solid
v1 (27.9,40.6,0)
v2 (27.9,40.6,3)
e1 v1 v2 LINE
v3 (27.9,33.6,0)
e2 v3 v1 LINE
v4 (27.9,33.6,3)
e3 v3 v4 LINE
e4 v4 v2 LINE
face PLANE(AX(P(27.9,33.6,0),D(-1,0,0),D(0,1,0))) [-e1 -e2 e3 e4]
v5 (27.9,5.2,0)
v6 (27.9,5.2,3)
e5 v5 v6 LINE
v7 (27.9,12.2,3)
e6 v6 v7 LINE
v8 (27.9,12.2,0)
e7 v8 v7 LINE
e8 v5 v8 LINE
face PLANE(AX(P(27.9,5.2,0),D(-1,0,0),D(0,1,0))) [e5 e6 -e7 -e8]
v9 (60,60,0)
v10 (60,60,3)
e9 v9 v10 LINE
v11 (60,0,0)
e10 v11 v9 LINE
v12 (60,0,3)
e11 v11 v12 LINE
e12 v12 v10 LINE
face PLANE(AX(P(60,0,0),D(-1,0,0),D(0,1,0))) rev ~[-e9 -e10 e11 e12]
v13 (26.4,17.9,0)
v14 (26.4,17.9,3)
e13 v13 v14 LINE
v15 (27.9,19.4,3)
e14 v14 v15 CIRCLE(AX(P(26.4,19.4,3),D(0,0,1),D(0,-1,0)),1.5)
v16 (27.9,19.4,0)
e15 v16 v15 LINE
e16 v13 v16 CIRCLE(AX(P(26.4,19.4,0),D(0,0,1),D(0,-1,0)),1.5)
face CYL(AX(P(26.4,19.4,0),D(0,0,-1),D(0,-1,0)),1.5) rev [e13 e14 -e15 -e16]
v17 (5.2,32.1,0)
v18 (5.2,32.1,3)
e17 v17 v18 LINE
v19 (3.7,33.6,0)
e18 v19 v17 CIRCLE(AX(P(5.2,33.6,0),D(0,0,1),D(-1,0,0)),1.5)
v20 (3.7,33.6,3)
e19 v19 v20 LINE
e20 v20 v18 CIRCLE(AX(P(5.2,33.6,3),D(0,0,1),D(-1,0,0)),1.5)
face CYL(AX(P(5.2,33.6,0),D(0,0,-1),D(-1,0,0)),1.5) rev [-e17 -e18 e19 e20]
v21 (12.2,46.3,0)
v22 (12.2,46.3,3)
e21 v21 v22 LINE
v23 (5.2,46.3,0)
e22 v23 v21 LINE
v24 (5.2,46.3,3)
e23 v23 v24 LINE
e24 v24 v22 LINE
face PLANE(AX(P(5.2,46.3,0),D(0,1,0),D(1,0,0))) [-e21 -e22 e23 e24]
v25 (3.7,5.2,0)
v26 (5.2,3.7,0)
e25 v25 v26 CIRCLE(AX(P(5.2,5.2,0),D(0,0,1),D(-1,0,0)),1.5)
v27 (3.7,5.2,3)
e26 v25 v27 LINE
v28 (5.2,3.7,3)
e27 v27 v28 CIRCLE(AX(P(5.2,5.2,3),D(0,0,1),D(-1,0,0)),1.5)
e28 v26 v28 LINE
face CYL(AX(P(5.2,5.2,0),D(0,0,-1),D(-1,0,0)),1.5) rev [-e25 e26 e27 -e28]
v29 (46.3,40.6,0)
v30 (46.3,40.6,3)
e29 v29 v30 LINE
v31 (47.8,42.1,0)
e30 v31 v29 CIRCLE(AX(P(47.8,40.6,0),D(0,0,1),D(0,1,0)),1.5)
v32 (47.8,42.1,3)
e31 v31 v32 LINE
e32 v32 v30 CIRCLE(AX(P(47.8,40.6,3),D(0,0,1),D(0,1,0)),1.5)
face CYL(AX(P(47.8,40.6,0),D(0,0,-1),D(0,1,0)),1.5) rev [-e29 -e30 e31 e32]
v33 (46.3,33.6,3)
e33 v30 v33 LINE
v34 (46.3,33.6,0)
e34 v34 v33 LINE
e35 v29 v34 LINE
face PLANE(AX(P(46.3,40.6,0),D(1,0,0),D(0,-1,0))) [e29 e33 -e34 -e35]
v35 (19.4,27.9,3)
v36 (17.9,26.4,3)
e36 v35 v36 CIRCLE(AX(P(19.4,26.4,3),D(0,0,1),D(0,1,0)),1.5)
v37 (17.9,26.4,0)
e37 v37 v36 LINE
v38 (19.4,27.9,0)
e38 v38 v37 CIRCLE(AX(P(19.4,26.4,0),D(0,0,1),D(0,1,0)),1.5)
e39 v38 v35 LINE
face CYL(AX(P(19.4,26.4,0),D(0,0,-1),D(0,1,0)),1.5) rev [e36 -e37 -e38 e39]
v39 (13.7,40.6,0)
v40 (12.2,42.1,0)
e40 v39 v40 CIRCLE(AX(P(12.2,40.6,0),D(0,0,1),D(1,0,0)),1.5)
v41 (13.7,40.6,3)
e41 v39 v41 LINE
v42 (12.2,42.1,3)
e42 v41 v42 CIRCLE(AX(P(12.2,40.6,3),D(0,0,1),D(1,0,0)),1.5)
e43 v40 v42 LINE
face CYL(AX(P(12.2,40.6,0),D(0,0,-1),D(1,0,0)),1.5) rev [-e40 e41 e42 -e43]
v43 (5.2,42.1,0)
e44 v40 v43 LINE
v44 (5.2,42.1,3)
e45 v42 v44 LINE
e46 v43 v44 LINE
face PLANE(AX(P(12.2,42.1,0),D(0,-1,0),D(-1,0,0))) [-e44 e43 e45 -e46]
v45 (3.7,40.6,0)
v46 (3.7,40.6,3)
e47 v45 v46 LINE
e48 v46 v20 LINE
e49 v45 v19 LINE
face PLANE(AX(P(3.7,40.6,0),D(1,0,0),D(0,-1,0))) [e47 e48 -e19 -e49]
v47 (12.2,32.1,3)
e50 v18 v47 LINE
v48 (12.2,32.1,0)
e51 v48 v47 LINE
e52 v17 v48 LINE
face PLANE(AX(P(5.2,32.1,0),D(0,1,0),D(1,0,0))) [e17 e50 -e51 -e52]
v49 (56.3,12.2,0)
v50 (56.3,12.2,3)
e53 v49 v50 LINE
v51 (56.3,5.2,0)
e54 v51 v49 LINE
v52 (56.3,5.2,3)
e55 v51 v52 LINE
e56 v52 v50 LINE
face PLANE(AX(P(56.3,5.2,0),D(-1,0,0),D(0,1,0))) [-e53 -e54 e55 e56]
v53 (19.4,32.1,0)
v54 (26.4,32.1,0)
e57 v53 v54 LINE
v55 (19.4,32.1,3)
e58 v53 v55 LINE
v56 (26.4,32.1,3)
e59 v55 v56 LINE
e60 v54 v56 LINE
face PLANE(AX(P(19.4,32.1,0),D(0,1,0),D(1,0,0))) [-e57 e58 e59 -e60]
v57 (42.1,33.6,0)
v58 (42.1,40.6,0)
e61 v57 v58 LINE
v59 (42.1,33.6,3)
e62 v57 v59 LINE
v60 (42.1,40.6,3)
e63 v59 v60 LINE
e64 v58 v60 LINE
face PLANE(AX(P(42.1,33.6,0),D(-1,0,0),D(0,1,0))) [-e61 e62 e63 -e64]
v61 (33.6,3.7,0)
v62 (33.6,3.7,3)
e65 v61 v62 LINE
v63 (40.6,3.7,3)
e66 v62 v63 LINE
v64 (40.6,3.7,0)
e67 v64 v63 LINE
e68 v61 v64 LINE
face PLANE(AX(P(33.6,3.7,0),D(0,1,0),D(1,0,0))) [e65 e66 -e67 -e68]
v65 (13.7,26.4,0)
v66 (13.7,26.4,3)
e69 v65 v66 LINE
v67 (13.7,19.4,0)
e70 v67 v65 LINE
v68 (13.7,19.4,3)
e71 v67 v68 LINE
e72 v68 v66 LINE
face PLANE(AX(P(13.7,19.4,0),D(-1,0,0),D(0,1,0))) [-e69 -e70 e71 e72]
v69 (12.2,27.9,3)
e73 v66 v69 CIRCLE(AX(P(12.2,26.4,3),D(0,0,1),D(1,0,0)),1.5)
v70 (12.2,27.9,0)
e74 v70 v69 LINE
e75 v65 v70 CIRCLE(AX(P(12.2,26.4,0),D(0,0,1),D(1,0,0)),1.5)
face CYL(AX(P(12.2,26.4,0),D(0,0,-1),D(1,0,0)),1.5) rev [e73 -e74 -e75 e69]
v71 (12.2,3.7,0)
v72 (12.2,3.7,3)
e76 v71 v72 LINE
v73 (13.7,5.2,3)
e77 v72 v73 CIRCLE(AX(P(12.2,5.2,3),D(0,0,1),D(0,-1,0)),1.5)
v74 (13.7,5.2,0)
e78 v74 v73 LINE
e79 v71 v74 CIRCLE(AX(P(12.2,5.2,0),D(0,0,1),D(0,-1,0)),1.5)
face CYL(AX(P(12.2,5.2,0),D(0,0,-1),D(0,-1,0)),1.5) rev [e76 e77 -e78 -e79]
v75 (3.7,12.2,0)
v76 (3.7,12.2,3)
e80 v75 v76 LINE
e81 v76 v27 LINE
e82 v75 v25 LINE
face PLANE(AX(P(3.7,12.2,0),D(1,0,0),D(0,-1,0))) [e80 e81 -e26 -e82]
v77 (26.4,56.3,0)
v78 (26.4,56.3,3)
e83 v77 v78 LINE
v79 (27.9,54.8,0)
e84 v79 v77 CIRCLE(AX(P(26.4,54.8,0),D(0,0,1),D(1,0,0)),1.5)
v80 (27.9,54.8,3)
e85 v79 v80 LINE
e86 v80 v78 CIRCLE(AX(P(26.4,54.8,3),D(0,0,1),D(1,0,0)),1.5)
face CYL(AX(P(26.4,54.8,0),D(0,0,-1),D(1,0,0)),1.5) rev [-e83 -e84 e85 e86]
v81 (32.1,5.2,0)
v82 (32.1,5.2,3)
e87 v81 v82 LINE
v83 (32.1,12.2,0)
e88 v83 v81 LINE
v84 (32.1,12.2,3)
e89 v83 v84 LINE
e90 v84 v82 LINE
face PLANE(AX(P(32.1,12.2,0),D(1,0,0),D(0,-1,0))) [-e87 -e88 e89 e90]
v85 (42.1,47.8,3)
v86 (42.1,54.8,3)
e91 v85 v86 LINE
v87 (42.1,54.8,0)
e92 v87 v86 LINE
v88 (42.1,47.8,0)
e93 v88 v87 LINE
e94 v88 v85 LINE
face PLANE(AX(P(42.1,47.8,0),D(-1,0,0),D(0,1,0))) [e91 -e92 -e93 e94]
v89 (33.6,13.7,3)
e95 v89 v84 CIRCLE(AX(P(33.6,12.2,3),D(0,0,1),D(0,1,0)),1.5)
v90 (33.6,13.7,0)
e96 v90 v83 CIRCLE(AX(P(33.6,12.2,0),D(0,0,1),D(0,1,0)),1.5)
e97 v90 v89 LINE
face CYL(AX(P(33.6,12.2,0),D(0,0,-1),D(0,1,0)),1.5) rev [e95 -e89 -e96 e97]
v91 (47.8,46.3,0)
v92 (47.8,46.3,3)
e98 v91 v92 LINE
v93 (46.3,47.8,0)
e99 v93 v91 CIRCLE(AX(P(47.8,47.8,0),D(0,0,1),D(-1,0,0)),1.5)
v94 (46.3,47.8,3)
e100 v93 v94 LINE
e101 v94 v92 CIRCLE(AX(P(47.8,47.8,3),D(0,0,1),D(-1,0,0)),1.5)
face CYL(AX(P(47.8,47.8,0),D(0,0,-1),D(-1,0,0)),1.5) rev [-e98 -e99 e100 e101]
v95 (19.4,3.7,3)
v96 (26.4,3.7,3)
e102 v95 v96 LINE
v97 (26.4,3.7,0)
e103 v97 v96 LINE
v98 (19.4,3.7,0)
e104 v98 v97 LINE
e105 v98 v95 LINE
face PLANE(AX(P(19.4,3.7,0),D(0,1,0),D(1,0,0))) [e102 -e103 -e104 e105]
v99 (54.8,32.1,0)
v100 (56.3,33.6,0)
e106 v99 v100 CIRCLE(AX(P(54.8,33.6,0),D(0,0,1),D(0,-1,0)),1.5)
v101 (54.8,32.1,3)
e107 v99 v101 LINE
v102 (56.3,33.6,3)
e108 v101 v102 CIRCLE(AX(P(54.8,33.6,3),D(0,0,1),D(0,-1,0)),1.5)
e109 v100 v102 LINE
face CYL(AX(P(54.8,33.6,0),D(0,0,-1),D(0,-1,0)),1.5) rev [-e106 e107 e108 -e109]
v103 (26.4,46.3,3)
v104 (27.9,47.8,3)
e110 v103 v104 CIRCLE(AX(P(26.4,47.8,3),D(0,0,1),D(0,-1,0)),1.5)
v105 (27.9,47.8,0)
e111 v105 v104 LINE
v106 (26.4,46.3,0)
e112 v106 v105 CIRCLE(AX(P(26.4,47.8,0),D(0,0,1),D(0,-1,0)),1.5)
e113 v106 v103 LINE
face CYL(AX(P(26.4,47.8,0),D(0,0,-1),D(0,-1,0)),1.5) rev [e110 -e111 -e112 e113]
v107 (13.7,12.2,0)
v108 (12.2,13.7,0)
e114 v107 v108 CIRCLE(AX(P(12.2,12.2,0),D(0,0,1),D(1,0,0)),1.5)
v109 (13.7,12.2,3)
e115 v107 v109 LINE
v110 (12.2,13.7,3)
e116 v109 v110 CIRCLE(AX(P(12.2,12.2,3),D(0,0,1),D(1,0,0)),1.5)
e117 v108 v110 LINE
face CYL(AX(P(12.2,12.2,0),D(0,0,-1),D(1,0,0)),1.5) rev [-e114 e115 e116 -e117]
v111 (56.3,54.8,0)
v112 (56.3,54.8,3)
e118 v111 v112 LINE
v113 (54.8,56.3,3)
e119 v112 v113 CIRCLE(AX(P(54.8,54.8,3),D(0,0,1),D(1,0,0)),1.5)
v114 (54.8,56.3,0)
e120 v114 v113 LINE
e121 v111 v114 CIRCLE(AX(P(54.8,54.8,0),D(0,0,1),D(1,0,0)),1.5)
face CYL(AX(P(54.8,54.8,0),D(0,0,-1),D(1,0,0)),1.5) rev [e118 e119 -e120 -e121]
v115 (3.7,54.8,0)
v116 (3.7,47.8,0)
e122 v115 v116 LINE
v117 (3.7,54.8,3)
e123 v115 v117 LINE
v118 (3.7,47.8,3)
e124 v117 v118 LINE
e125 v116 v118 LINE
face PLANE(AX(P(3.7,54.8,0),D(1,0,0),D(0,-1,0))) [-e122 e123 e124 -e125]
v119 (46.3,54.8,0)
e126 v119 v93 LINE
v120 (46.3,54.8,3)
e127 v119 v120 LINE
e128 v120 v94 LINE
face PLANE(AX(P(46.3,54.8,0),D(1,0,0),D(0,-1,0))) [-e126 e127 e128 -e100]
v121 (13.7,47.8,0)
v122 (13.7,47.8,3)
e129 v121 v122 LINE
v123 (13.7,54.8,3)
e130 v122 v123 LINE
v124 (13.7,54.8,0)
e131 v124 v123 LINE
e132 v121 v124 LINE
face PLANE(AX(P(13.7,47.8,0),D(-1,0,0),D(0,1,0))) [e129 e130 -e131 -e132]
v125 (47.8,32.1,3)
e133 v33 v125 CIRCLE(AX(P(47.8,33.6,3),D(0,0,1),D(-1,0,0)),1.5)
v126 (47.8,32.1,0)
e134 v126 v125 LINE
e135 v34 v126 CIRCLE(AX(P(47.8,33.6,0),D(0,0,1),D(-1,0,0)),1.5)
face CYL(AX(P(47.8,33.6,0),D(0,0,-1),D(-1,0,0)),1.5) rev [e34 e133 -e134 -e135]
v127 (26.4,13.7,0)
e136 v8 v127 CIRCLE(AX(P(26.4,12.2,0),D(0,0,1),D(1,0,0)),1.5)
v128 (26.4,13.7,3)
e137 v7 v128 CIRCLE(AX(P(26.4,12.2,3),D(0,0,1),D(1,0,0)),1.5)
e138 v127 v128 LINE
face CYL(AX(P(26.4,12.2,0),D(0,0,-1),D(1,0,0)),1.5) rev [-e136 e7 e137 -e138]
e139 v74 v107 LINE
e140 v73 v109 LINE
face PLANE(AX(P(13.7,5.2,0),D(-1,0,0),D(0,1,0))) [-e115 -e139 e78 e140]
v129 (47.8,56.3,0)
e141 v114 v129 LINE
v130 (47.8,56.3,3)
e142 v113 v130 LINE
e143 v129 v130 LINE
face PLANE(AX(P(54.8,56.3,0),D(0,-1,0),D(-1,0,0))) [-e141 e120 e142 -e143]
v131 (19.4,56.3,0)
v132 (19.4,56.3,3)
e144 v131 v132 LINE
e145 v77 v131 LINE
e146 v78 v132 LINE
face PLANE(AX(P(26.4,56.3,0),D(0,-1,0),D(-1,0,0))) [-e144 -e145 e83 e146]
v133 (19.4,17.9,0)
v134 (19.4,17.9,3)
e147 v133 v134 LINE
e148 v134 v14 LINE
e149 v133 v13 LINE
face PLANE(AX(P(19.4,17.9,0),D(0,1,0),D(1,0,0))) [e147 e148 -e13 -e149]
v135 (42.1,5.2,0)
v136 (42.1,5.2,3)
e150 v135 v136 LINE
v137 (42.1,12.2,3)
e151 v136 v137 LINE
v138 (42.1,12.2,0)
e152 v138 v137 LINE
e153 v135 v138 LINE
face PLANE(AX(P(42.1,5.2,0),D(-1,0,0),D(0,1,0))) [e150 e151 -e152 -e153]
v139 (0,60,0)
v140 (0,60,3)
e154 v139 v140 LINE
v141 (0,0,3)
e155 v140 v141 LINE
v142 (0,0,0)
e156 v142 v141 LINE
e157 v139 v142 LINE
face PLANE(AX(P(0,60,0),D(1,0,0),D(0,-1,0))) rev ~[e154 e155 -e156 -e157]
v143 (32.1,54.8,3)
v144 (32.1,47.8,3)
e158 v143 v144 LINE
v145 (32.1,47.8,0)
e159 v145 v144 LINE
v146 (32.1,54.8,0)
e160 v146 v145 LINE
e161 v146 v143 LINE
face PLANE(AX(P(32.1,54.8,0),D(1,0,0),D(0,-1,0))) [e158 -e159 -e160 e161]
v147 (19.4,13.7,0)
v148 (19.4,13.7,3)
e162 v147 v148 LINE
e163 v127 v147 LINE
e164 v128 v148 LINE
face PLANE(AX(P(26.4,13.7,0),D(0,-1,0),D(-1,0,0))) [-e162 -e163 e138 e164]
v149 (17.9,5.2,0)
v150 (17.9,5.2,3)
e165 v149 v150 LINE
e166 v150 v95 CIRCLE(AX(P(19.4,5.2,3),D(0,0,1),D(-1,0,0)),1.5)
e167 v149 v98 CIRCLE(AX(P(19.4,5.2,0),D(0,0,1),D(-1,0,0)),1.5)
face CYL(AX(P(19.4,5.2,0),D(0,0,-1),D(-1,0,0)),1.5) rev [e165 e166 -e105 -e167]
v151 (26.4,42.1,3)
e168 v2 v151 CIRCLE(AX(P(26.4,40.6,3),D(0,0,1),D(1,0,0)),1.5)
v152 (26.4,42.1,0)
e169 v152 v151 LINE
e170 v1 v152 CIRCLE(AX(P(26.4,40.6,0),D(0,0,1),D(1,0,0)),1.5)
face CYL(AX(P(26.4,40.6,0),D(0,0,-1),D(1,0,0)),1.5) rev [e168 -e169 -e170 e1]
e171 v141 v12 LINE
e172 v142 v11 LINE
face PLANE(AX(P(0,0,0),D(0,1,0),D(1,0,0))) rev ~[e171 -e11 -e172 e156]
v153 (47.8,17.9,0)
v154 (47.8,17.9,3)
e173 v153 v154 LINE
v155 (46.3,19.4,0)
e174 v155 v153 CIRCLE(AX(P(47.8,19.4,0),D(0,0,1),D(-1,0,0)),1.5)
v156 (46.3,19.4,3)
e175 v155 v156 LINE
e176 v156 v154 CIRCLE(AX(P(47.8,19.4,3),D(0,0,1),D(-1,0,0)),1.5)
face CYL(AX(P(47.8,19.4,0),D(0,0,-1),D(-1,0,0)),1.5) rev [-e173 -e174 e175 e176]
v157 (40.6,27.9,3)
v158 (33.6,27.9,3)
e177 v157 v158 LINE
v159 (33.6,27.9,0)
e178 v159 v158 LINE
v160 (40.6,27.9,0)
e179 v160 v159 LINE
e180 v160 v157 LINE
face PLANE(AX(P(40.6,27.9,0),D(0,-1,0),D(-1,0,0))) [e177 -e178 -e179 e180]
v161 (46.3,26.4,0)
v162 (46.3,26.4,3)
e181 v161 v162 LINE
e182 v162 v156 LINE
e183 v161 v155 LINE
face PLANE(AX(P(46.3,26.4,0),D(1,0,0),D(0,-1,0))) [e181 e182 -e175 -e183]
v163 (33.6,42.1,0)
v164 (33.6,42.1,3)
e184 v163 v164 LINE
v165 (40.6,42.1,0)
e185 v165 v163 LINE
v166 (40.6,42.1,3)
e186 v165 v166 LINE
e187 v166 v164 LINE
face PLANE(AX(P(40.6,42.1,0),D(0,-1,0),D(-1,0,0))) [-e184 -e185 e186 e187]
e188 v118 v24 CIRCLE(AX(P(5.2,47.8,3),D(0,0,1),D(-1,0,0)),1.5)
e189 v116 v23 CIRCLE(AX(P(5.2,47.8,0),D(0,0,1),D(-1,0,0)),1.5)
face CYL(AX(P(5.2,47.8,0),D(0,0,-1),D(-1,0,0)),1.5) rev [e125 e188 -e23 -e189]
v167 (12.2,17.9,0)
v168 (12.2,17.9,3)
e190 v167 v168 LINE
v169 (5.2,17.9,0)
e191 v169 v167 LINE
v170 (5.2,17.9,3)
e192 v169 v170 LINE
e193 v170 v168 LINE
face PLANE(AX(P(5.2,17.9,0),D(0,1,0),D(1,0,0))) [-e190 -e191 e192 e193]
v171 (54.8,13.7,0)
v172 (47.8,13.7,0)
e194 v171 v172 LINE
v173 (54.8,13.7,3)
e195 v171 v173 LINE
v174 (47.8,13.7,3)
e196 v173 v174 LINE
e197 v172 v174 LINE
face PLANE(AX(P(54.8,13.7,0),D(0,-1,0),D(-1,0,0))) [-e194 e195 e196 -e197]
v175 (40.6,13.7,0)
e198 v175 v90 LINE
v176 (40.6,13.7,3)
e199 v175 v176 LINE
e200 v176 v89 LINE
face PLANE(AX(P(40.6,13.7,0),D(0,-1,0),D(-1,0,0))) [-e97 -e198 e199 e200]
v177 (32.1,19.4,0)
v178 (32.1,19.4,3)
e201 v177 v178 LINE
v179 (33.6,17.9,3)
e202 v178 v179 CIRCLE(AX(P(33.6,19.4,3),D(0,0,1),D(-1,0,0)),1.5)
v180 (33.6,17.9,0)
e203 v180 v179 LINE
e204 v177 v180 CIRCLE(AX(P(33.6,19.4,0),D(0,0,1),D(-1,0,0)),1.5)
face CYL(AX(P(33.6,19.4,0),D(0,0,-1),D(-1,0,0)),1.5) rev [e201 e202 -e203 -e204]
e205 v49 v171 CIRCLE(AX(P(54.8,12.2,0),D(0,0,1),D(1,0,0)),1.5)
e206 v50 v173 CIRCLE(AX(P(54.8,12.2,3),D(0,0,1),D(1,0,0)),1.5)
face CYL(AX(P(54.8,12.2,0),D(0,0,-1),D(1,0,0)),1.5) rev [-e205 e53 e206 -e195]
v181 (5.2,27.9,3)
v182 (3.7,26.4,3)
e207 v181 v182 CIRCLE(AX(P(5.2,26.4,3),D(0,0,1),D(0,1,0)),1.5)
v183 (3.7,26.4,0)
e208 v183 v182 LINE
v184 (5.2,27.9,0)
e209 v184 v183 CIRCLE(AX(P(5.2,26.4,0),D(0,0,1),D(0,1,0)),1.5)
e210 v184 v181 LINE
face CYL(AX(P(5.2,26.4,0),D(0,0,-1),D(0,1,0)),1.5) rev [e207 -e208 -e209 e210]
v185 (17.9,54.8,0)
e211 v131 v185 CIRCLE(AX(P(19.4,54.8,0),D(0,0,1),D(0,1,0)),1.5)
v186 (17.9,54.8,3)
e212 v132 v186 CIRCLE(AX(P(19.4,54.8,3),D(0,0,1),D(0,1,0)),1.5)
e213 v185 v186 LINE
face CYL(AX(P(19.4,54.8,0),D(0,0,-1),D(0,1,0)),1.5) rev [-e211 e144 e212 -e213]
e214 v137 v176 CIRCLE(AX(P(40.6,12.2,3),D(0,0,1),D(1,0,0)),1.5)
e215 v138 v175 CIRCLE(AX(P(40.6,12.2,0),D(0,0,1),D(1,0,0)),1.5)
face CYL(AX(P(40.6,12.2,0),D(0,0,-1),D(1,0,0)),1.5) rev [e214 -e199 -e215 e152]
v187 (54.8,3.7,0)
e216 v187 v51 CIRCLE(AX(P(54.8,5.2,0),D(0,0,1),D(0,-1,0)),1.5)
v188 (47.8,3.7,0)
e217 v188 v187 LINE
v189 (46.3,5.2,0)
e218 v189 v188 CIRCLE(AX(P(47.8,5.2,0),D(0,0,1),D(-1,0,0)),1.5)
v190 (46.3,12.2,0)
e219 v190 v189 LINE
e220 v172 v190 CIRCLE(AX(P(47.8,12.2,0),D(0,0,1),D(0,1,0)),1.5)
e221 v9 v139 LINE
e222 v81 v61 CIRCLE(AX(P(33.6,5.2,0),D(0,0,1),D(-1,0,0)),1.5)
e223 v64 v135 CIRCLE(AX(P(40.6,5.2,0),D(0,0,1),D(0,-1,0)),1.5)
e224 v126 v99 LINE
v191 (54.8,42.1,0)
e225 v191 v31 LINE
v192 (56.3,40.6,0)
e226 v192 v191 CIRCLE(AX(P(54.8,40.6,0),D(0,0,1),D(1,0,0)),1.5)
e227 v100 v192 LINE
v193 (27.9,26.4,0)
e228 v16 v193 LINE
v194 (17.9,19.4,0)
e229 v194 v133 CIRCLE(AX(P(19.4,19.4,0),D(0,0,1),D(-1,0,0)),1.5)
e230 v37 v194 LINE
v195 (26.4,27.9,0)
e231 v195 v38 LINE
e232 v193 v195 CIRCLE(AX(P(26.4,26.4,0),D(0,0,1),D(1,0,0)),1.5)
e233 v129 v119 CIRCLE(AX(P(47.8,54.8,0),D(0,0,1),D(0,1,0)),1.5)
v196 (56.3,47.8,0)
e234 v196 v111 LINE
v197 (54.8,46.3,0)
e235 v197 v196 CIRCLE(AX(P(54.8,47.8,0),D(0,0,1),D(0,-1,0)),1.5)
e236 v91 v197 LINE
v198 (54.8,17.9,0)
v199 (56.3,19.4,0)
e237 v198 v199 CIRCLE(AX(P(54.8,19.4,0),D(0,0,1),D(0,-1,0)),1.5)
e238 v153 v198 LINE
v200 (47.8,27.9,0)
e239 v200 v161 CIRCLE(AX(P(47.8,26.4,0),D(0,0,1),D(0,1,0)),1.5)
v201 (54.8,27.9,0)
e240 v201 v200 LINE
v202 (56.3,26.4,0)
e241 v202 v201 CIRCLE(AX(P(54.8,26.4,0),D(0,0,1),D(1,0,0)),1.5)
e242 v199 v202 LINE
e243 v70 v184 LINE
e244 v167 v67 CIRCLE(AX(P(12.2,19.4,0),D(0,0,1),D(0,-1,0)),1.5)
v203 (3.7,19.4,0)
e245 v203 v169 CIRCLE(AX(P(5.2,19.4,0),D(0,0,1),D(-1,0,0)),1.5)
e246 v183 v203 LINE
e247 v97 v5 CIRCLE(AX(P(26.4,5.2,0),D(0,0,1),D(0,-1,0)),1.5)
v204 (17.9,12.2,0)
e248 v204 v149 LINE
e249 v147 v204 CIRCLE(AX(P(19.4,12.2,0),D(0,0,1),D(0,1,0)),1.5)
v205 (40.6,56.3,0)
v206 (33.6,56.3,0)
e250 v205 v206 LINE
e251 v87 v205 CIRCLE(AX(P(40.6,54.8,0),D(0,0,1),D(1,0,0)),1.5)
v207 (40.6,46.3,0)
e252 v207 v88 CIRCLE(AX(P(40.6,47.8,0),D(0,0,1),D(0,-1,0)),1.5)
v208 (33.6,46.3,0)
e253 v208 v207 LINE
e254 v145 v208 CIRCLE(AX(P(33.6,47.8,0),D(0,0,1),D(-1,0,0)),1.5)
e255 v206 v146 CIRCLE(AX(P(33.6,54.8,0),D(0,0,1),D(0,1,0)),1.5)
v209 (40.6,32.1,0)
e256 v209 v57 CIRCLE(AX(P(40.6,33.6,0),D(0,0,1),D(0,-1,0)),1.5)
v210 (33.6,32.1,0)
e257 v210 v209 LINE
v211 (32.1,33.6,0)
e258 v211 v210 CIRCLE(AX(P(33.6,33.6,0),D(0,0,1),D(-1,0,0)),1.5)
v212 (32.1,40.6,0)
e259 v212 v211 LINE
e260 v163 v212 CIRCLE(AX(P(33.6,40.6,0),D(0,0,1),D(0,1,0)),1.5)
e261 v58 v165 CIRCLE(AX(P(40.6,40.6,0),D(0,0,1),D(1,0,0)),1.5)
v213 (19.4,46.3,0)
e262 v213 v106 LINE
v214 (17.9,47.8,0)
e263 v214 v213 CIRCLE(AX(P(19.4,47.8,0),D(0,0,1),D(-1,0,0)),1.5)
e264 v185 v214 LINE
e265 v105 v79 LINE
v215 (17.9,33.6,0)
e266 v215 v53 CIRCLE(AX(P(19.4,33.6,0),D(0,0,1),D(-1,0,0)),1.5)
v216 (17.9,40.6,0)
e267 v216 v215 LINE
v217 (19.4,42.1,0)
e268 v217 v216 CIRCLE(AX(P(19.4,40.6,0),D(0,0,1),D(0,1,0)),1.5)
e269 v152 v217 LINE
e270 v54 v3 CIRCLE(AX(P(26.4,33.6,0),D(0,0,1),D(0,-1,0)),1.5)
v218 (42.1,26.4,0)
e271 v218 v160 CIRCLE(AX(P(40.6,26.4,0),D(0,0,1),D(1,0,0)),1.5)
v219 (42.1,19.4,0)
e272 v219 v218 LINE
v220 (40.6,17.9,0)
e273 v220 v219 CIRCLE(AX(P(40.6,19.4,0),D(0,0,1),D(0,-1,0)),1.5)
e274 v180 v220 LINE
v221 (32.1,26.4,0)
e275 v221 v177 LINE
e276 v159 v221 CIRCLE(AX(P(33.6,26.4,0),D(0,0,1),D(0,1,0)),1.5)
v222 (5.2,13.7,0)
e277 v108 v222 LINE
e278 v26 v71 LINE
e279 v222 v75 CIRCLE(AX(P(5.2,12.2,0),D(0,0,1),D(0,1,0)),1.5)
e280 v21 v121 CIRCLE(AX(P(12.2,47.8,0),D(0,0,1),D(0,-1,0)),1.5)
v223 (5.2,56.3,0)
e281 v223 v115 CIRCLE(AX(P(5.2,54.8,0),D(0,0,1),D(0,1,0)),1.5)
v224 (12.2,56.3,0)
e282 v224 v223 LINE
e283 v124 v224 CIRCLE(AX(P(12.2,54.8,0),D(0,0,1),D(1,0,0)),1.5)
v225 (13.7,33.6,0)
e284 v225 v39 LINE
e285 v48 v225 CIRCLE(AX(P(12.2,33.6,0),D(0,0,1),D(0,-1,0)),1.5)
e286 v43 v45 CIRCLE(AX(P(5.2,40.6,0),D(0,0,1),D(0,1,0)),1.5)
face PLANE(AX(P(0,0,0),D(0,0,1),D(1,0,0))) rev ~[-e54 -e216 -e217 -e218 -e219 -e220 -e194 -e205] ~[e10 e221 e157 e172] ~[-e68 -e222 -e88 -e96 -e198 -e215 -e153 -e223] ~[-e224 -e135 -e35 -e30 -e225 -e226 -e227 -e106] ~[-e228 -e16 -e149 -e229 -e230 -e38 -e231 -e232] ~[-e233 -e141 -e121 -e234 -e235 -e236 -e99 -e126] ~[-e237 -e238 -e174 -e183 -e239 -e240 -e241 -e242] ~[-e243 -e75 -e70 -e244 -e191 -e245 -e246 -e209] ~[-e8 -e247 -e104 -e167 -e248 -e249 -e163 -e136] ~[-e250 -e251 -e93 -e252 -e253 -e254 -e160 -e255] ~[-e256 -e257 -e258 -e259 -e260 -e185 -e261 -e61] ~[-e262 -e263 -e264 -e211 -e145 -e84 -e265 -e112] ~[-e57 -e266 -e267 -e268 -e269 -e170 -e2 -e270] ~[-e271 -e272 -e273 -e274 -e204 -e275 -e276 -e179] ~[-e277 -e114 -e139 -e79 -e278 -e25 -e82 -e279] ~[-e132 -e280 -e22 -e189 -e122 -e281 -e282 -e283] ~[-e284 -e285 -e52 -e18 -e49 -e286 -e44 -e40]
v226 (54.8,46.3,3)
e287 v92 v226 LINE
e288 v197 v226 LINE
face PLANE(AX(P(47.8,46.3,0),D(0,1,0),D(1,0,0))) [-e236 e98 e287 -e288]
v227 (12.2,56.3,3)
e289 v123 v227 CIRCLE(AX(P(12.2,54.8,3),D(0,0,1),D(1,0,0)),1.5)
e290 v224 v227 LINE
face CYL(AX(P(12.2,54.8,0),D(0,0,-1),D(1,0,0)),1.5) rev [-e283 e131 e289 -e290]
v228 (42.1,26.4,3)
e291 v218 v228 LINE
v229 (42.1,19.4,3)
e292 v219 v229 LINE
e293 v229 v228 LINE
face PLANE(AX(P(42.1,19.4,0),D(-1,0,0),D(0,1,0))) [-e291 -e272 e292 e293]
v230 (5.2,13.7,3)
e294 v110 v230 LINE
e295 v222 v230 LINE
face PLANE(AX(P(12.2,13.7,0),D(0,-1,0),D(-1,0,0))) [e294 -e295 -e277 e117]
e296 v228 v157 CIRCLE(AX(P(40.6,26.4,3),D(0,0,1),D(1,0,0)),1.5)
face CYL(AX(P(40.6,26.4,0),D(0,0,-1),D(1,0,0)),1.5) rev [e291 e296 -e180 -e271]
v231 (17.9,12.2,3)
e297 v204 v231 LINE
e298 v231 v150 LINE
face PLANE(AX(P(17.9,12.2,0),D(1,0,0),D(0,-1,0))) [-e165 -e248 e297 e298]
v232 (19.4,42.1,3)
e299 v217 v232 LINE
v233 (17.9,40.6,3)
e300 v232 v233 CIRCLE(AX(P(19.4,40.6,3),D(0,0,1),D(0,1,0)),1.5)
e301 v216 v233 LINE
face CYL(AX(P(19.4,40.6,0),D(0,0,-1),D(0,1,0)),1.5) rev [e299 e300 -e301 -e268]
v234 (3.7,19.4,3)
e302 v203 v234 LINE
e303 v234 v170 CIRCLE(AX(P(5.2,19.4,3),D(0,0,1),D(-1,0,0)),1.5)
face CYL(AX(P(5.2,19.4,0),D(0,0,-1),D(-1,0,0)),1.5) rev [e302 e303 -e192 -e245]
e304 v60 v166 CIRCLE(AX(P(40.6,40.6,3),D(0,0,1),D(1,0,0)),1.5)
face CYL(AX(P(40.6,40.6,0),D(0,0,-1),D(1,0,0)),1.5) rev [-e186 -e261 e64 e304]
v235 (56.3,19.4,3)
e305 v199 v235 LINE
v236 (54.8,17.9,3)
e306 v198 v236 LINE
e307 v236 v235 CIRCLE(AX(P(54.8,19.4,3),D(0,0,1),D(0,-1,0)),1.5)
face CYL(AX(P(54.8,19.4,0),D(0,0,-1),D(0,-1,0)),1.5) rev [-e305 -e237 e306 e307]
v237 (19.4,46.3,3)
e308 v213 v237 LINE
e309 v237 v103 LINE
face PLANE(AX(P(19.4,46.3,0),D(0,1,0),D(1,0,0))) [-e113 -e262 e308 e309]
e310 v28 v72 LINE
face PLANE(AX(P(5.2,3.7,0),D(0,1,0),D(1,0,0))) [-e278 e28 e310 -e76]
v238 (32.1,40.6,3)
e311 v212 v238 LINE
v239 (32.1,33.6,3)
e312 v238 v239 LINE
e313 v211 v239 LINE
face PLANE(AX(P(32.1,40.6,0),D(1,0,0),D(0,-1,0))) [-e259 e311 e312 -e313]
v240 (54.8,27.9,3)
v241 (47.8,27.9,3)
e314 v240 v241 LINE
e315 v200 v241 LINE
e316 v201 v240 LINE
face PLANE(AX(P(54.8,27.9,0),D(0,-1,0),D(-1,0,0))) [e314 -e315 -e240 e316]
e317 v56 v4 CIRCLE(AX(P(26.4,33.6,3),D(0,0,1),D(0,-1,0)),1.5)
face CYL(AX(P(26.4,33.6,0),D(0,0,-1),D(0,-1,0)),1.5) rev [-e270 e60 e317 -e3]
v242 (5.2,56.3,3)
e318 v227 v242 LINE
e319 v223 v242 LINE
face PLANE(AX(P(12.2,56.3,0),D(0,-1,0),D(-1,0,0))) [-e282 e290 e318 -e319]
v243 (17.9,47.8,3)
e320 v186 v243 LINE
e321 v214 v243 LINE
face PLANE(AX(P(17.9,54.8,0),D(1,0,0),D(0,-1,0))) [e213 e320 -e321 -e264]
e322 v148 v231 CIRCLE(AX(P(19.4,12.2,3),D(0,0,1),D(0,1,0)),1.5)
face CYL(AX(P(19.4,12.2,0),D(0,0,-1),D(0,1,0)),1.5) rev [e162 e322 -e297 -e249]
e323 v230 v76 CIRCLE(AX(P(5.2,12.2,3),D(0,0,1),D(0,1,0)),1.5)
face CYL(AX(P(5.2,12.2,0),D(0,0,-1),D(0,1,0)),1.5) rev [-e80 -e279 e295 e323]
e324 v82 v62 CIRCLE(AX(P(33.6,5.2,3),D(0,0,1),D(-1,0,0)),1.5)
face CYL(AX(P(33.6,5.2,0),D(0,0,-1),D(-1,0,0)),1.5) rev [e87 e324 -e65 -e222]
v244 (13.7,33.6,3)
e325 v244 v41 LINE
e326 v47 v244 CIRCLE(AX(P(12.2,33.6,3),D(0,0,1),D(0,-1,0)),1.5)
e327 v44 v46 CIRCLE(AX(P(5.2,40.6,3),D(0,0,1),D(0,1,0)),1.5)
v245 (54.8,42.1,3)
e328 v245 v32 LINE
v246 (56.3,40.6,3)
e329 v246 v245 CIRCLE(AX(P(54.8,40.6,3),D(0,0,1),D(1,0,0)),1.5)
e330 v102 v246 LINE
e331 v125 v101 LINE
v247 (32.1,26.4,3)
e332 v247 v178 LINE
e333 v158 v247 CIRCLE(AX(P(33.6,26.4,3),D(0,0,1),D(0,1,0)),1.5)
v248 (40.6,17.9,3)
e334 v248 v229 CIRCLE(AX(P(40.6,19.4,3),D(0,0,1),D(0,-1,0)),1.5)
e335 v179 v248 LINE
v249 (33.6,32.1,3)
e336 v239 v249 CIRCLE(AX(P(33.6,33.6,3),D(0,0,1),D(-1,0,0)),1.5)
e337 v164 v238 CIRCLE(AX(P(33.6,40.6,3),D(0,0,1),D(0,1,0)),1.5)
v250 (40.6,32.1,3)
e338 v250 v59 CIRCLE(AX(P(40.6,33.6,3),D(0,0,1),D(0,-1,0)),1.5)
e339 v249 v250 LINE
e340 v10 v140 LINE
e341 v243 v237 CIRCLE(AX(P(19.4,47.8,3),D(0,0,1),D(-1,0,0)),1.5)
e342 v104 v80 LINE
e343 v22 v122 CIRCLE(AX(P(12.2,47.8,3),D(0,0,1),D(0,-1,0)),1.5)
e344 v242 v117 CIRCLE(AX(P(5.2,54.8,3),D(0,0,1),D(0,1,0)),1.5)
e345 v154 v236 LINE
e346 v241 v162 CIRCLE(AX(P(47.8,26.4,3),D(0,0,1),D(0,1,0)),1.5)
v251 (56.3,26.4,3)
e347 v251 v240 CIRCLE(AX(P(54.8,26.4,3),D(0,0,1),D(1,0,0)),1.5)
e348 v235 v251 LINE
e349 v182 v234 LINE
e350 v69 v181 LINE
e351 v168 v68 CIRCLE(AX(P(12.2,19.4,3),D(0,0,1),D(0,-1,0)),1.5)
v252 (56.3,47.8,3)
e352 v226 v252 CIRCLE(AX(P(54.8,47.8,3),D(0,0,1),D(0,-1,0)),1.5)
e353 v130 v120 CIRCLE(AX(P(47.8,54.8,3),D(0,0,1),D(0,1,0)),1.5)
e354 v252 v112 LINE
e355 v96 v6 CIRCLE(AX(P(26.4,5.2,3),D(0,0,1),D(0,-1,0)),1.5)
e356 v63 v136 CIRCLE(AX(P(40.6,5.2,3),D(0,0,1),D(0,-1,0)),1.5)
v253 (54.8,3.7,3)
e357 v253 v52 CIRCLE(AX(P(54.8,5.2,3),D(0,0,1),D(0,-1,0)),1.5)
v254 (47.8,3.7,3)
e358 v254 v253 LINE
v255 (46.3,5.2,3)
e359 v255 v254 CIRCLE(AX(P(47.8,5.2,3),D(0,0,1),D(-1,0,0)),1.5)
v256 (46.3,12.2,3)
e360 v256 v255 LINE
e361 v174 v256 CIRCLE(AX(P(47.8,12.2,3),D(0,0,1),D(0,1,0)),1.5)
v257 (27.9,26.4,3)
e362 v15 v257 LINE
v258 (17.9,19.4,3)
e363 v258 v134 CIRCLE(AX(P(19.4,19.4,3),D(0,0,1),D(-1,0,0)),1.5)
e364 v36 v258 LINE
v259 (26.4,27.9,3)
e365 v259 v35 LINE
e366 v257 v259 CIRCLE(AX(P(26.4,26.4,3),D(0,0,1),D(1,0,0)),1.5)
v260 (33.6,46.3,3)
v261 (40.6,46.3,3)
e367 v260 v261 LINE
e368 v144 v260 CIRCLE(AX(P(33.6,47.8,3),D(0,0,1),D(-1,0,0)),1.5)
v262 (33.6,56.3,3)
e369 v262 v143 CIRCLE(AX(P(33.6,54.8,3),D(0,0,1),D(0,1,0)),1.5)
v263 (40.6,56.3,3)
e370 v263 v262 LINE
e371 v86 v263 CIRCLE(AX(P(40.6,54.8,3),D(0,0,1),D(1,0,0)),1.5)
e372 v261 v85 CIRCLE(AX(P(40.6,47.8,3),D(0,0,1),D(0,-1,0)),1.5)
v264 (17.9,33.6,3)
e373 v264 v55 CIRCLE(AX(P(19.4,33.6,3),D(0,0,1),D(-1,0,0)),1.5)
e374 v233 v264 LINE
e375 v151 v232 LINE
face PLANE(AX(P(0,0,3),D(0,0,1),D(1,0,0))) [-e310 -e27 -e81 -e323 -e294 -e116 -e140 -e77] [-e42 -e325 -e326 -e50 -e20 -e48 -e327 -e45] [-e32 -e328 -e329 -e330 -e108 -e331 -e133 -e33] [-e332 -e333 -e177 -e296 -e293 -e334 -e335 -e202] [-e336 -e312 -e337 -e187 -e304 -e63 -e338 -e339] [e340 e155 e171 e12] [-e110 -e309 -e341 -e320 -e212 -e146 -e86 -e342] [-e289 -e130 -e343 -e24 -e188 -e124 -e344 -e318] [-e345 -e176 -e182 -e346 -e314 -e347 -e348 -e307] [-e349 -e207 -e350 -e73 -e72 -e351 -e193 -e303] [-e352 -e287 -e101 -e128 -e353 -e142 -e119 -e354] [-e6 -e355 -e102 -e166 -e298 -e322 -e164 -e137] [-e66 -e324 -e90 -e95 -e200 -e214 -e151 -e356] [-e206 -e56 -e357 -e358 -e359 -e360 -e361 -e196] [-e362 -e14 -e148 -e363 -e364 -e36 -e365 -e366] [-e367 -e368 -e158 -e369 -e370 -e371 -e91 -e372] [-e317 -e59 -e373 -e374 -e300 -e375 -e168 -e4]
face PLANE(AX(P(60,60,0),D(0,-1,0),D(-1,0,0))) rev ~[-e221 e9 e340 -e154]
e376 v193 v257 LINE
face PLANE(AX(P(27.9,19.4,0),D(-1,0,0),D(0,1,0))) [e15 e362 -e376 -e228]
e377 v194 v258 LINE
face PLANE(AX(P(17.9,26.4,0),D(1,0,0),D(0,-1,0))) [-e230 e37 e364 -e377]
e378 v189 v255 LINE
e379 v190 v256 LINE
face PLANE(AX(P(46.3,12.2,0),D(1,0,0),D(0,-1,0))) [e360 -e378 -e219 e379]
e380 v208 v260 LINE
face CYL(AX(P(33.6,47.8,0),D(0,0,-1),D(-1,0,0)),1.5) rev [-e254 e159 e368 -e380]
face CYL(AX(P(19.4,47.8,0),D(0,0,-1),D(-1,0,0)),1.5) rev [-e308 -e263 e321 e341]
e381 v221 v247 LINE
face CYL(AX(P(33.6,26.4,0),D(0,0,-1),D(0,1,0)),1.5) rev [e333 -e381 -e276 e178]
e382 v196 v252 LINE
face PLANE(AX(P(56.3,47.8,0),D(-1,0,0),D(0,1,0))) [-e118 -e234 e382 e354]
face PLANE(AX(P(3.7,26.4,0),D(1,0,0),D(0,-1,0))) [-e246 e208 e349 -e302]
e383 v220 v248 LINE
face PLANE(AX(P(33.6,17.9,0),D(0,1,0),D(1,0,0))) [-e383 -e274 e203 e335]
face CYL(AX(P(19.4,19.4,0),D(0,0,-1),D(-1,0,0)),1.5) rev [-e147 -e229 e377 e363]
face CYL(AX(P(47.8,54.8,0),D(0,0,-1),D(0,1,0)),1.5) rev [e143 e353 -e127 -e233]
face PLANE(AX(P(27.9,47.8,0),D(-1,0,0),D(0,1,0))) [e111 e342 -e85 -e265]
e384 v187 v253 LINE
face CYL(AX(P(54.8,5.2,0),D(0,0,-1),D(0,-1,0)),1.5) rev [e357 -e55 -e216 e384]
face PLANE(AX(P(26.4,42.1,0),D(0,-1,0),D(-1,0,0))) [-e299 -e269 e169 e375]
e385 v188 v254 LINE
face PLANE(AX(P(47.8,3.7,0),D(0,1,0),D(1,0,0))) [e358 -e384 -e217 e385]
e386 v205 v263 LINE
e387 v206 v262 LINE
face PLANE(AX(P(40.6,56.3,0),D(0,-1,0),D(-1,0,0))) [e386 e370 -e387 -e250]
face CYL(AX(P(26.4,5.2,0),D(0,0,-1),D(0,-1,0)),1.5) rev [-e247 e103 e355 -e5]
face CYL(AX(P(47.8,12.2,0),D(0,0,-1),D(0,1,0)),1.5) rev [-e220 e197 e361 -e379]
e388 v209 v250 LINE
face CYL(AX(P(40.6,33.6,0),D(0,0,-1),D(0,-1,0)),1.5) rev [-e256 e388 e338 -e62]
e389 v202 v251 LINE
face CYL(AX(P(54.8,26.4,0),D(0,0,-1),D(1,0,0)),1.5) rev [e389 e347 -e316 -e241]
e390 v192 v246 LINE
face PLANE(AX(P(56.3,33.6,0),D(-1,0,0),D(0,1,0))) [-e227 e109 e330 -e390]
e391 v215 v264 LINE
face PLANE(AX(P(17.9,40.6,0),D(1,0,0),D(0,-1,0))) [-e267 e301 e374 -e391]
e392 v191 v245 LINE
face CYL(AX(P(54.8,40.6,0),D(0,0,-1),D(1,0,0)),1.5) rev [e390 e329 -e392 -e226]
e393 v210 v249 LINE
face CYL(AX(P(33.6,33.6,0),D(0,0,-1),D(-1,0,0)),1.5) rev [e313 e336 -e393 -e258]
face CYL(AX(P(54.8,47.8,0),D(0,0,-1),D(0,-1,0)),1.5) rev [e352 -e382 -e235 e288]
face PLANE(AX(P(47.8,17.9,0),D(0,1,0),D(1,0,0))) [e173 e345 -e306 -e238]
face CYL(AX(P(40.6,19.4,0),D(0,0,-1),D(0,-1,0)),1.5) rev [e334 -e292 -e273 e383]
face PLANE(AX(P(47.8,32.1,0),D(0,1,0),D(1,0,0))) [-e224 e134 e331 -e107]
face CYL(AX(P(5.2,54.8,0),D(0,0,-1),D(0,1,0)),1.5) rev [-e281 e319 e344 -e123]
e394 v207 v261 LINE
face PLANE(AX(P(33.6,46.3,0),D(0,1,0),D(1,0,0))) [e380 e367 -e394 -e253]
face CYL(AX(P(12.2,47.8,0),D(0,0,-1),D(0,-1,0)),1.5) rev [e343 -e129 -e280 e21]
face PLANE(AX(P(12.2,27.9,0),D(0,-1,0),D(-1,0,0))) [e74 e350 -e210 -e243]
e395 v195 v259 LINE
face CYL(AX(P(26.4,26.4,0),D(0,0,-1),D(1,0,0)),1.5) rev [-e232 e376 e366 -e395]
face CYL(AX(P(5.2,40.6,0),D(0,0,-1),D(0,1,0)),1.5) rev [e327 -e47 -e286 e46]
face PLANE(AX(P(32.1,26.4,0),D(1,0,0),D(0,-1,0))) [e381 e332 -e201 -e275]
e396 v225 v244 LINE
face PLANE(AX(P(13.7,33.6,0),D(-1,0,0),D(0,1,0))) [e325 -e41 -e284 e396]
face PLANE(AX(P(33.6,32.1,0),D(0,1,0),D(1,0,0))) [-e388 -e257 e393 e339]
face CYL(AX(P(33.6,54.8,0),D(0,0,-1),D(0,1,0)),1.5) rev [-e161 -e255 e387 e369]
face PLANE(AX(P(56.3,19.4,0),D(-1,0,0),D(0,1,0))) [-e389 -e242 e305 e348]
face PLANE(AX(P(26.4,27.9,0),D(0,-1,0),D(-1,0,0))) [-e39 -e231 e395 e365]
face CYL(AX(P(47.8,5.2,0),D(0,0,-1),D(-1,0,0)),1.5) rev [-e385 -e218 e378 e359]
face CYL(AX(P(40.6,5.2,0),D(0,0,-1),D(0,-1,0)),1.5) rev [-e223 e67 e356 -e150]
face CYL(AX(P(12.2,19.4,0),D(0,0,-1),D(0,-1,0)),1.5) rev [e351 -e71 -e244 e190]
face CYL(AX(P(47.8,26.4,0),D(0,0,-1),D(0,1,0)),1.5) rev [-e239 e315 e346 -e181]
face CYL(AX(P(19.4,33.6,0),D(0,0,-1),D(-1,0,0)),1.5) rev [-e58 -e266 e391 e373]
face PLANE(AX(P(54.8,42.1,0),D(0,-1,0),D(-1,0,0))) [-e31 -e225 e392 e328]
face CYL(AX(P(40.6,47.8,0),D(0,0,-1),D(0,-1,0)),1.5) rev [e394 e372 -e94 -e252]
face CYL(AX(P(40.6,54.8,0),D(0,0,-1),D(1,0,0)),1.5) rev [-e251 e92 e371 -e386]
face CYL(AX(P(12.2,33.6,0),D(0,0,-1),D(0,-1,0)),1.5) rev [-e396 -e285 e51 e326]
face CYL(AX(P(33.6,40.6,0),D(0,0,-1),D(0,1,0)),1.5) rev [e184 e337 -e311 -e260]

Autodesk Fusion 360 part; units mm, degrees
sketch "Sketch1" plane through (0, 0, 0) normal (0, 0, 1) x (1, 0, 0)
  line L0 (0, 0) -> (60, 0)
  line L1 (60, 0) -> (60, 60)
  line L2 (60, 60) -> (0, 60)
  line L3 (0, 60) -> (0, 0)
  arc A0 (0, 124.28) -> (0, 185.3988) centre (-137.08, 154.8394) ccw
  line L4 (30, 60) -> (30, 0) construction
  line L5 (0, 30) -> (60, 30) construction
  line L6 (30, 30) -> (32.1, 30) construction
  line L7 (32.1, 30) -> (32.1, 32.1) construction
  line L8 (32.1, 40.6) -> (32.1, 33.6)
  line L9 (33.6, 32.1) -> (40.6, 32.1)
  line L10 (42.1, 33.6) -> (42.1, 40.6)
  line L11 (42.1, 42.1) -> (40.6, 42.1) construction
  line L12 (40.6, 42.1) -> (33.6, 42.1)
  arc A1 (40.6, 32.1) -> (42.1, 33.6) centre (40.6, 33.6) ccw
  arc A2 (42.1, 40.6) -> (40.6, 42.1) centre (40.6, 40.6) ccw
  line L13 (32.1, 42.1) -> (32.1, 40.6) construction
  arc A3 (33.6, 42.1) -> (32.1, 40.6) centre (33.6, 40.6) ccw
  arc A4 (32.1, 33.6) -> (33.6, 32.1) centre (33.6, 33.6) ccw
  line L14 (42.1, 33.6) -> (42.1, 40.6)
  arc A5 (42.1, 40.6) -> (40.6, 42.1) centre (40.6, 40.6) ccw
  line L15 (40.6, 42.1) -> (33.6, 42.1)
  arc A6 (33.6, 42.1) -> (32.1, 40.6) centre (33.6, 40.6) ccw
  line L16 (32.1, 40.6) -> (32.1, 33.6)
  arc A7 (32.1, 33.6) -> (33.6, 32.1) centre (33.6, 33.6) ccw
  line L17 (17.9, 40.6) -> (17.9, 33.6)
  arc A8 (19.4, 42.1) -> (17.9, 40.6) centre (19.4, 40.6) ccw
  line L18 (26.4, 42.1) -> (19.4, 42.1)
  arc A9 (27.9, 40.6) -> (26.4, 42.1) centre (26.4, 40.6) ccw
  line L19 (27.9, 33.6) -> (27.9, 40.6)
  arc A10 (26.4, 32.1) -> (27.9, 33.6) centre (26.4, 33.6) ccw
  line L20 (19.4, 32.1) -> (26.4, 32.1)
  arc A11 (17.9, 33.6) -> (19.4, 32.1) centre (19.4, 33.6) ccw
  line L21 (12.2, 42.1) -> (5.2, 42.1)
  line L22 (3.7, 40.6) -> (3.7, 33.6)
  arc A12 (13.7, 40.6) -> (12.2, 42.1) centre (12.2, 40.6) ccw
  arc A13 (12.2, 32.1) -> (13.7, 33.6) centre (12.2, 33.6) ccw
  arc A14 (5.2, 42.1) -> (3.7, 40.6) centre (5.2, 40.6) ccw
  line L23 (5.2, 32.1) -> (12.2, 32.1)
  arc A15 (3.7, 33.6) -> (5.2, 32.1) centre (5.2, 33.6) ccw
  line L24 (13.7, 33.6) -> (13.7, 40.6)
  arc A16 (56.3, 40.6) -> (54.8, 42.1) centre (54.8, 40.6) ccw
  line L25 (47.8, 32.1) -> (54.8, 32.1)
  arc A17 (54.8, 32.1) -> (56.3, 33.6) centre (54.8, 33.6) ccw
  line L26 (54.8, 42.1) -> (47.8, 42.1)
  line L27 (56.3, 33.6) -> (56.3, 40.6)
  arc A18 (46.3, 33.6) -> (47.8, 32.1) centre (47.8, 33.6) ccw
  line L28 (46.3, 40.6) -> (46.3, 33.6)
  arc A19 (47.8, 42.1) -> (46.3, 40.6) centre (47.8, 40.6) ccw
  line L29 (27.9, 47.8) -> (27.9, 54.8)
  line L30 (17.9, 54.8) -> (17.9, 47.8)
  arc A20 (12.2, 46.3) -> (13.7, 47.8) centre (12.2, 47.8) ccw
  line L31 (3.7, 54.8) -> (3.7, 47.8)
  arc A21 (3.7, 47.8) -> (5.2, 46.3) centre (5.2, 47.8) ccw
  line L32 (12.2, 56.3) -> (5.2, 56.3)
  arc A22 (27.9, 54.8) -> (26.4, 56.3) centre (26.4, 54.8) ccw
  line L33 (26.4, 56.3) -> (19.4, 56.3)
  arc A23 (5.2, 56.3) -> (3.7, 54.8) centre (5.2, 54.8) ccw
  line L34 (19.4, 46.3) -> (26.4, 46.3)
  line L35 (5.2, 46.3) -> (12.2, 46.3)
  arc A24 (19.4, 56.3) -> (17.9, 54.8) centre (19.4, 54.8) ccw
  arc A25 (13.7, 54.8) -> (12.2, 56.3) centre (12.2, 54.8) ccw
  arc A26 (26.4, 46.3) -> (27.9, 47.8) centre (26.4, 47.8) ccw
  arc A27 (17.9, 47.8) -> (19.4, 46.3) centre (19.4, 47.8) ccw
  line L36 (13.7, 47.8) -> (13.7, 54.8)
  arc A28 (32.1, 47.8) -> (33.6, 46.3) centre (33.6, 47.8) ccw
  arc A29 (40.6, 46.3) -> (42.1, 47.8) centre (40.6, 47.8) ccw
  arc A30 (33.6, 56.3) -> (32.1, 54.8) centre (33.6, 54.8) ccw
  arc A31 (54.8, 46.3) -> (56.3, 47.8) centre (54.8, 47.8) ccw
  line L37 (46.3, 54.8) -> (46.3, 47.8)
  line L38 (56.3, 47.8) -> (56.3, 54.8)
  line L39 (42.1, 47.8) -> (42.1, 54.8)
  line L40 (32.1, 54.8) -> (32.1, 47.8)
  line L41 (33.6, 46.3) -> (40.6, 46.3)
  arc A32 (46.3, 47.8) -> (47.8, 46.3) centre (47.8, 47.8) ccw
  line L42 (47.8, 46.3) -> (54.8, 46.3)
  arc A33 (47.8, 56.3) -> (46.3, 54.8) centre (47.8, 54.8) ccw
  line L43 (54.8, 56.3) -> (47.8, 56.3)
  line L44 (40.6, 56.3) -> (33.6, 56.3)
  arc A34 (42.1, 54.8) -> (40.6, 56.3) centre (40.6, 54.8) ccw
  arc A35 (56.3, 54.8) -> (54.8, 56.3) centre (54.8, 54.8) ccw
  arc A36 (56.3, 26.4) -> (54.8, 27.9) centre (54.8, 26.4) ccw
  line L45 (26.4, 27.9) -> (19.4, 27.9)
  arc A37 (27.9, 26.4) -> (26.4, 27.9) centre (26.4, 26.4) ccw
  line L46 (54.8, 27.9) -> (47.8, 27.9)
  line L47 (3.7, 26.4) -> (3.7, 19.4)
  arc A38 (26.4, 17.9) -> (27.9, 19.4) centre (26.4, 19.4) ccw
  line L48 (47.8, 17.9) -> (54.8, 17.9)
  arc A39 (17.9, 19.4) -> (19.4, 17.9) centre (19.4, 19.4) ccw
  arc A40 (40.6, 17.9) -> (42.1, 19.4) centre (40.6, 19.4) ccw
  line L49 (12.2, 27.9) -> (5.2, 27.9)
  arc A41 (13.7, 26.4) -> (12.2, 27.9) centre (12.2, 26.4) ccw
  line L50 (13.7, 19.4) -> (13.7, 26.4)
  arc A42 (5.2, 27.9) -> (3.7, 26.4) centre (5.2, 26.4) ccw
  line L51 (33.6, 17.9) -> (40.6, 17.9)
  line L52 (42.1, 19.4) -> (42.1, 26.4)
  arc A43 (42.1, 26.4) -> (40.6, 27.9) centre (40.6, 26.4) ccw
  line L53 (27.9, 19.4) -> (27.9, 26.4)
  arc A44 (54.8, 17.9) -> (56.3, 19.4) centre (54.8, 19.4) ccw
  line L54 (56.3, 19.4) -> (56.3, 26.4)
  arc A45 (33.6, 27.9) -> (32.1, 26.4) centre (33.6, 26.4) ccw
  arc A46 (47.8, 27.9) -> (46.3, 26.4) centre (47.8, 26.4) ccw
  line L55 (46.3, 26.4) -> (46.3, 19.4)
  arc A47 (46.3, 19.4) -> (47.8, 17.9) centre (47.8, 19.4) ccw
  arc A48 (3.7, 19.4) -> (5.2, 17.9) centre (5.2, 19.4) ccw
  line L56 (40.6, 27.9) -> (33.6, 27.9)
  arc A49 (12.2, 17.9) -> (13.7, 19.4) centre (12.2, 19.4) ccw
  arc A50 (19.4, 27.9) -> (17.9, 26.4) centre (19.4, 26.4) ccw
  line L57 (32.1, 26.4) -> (32.1, 19.4)
  line L58 (5.2, 17.9) -> (12.2, 17.9)
  line L59 (17.9, 26.4) -> (17.9, 19.4)
  arc A51 (32.1, 19.4) -> (33.6, 17.9) centre (33.6, 19.4) ccw
  line L60 (19.4, 17.9) -> (26.4, 17.9)
  line L61 (26.4, 13.7) -> (19.4, 13.7)
  line L62 (3.7, 12.2) -> (3.7, 5.2)
  line L63 (13.7, 5.2) -> (13.7, 12.2)
  arc A52 (47.8, 13.7) -> (46.3, 12.2) centre (47.8, 12.2) ccw
  arc A53 (40.6, 3.7) -> (42.1, 5.2) centre (40.6, 5.2) ccw
  arc A54 (13.7, 12.2) -> (12.2, 13.7) centre (12.2, 12.2) ccw
  arc A55 (33.6, 13.7) -> (32.1, 12.2) centre (33.6, 12.2) ccw
  arc A56 (32.1, 5.2) -> (33.6, 3.7) centre (33.6, 5.2) ccw
  line L64 (54.8, 13.7) -> (47.8, 13.7)
  line L65 (27.9, 5.2) -> (27.9, 12.2)
  line L66 (47.8, 3.7) -> (54.8, 3.7)
  arc A57 (3.7, 5.2) -> (5.2, 3.7) centre (5.2, 5.2) ccw
  arc A58 (42.1, 12.2) -> (40.6, 13.7) centre (40.6, 12.2) ccw
  line L67 (33.6, 3.7) -> (40.6, 3.7)
  arc A59 (27.9, 12.2) -> (26.4, 13.7) centre (26.4, 12.2) ccw
  line L68 (56.3, 5.2) -> (56.3, 12.2)
  arc A60 (54.8, 3.7) -> (56.3, 5.2) centre (54.8, 5.2) ccw
  line L69 (19.4, 3.7) -> (26.4, 3.7)
  line L70 (32.1, 12.2) -> (32.1, 5.2)
  arc A61 (56.3, 12.2) -> (54.8, 13.7) centre (54.8, 12.2) ccw
  line L71 (42.1, 5.2) -> (42.1, 12.2)
  arc A62 (46.3, 5.2) -> (47.8, 3.7) centre (47.8, 5.2) ccw
  line L72 (40.6, 13.7) -> (33.6, 13.7)
  line L73 (46.3, 12.2) -> (46.3, 5.2)
  arc A63 (19.4, 13.7) -> (17.9, 12.2) centre (19.4, 12.2) ccw
  arc A64 (26.4, 3.7) -> (27.9, 5.2) centre (26.4, 5.2) ccw
  line L74 (12.2, 13.7) -> (5.2, 13.7)
  arc A65 (12.2, 3.7) -> (13.7, 5.2) centre (12.2, 5.2) ccw
  line L75 (17.9, 12.2) -> (17.9, 5.2)
  line L76 (5.2, 3.7) -> (12.2, 3.7)
  arc A66 (5.2, 13.7) -> (3.7, 12.2) centre (5.2, 12.2) ccw
  arc A67 (17.9, 5.2) -> (19.4, 3.7) centre (19.4, 5.2) ccw
  point P0 (33.6, 32.1)
  point P1 (32.1, 33.6)
  point P2 (40.6, 32.1)
  point P3 (42.1, 33.6)
  point P4 (42.1, 40.6)
  dimension "d1" = 60
  dimension "d2" = 60
  dimension "d3" = 2.1
  dimension "d4" = 2.1
  dimension "d8" = 1.5
  dimension "d21" = 7
  dimension "d22" = 7
  dimension "d25" = 7
  dimension "d29" = 1.5
  dimension "d30" = 1.5
  dimension "d32" = 1.5
  dimension "d33" = 1.5
  dimension "d34" = 1.5
  dimension "d35" = 1.5
  dimension "d36" = 1.5
  dimension "d37" = 1.5
  dimension "d38" = 1.5
  dimension "d39" = 1.5
  dimension "d40" = 1.5
  dimension "d41" = 1.5
  dimension "d42" = 1.5
  dimension "d43" = 1.5
  dimension "d44" = 1.5
  dimension "d45" = 1.5
  dimension "d46" = 1.5
  dimension "d47" = 1.5
  dimension "d48" = 1.5
  dimension "d49" = 1.5
  dimension "d50" = 1.5
  dimension "d51" = 1.5
  dimension "d52" = 1.5
  dimension "d53" = 1.5
  dimension "d54" = 1.5
  dimension "d55" = 1.5
  dimension "d56" = 1.5
  dimension "d57" = 1.5
  dimension "d58" = 1.5
  dimension "d59" = 1.5
  dimension "d60" = 1.5
  dimension "d61" = 1.5
  dimension "d62" = 1.5
  dimension "d63" = 1.5
  dimension "d64" = 1.5
  dimension "d65" = 1.5
  dimension "d66" = 1.5
  dimension "d67" = 1.5
  dimension "d68" = 1.5
  dimension "d69" = 1.5
  dimension "d70" = 1.5
  dimension "d71" = 1.5
  dimension "d72" = 1.5
  dimension "d73" = 1.5
  dimension "d74" = 1.5
  dimension "d75" = 1.5
  dimension "d76" = 1.5
  dimension "d77" = 1.5
  dimension "d78" = 1.5
  dimension "d79" = 1.5
  dimension "d80" = 1.5
  dimension "d81" = 1.5
  dimension "d82" = 1.5
  dimension "d83" = 1.5
  dimension "d84" = 1.5
  dimension "d85" = 1.5
  dimension "d86" = 1.5
  dimension "d87" = 1.5
  dimension "d88" = 1.5
  dimension "d89" = 1.5
  dimension "d90" = 1.5
  dimension "d91" = 1.5
  dimension "d92" = 1.5
  dimension "d93" = 1.5
  dimension "d94" = 1.5
  dimension "d95" = 1.5
  dimension "d96" = 1.5
extrude "Extrude1" add sketch "Sketch1" along normal blind 5
extrude "Extrude2" cut 1 faces at (58.7667, 31.2, 5) along direction (0, 0, -1) blind 2
component "TopPlateGrid1" placed x (1, 0, 0) y (0, 1, 0) z (0, 0, 1) at (0, 0, 0)
